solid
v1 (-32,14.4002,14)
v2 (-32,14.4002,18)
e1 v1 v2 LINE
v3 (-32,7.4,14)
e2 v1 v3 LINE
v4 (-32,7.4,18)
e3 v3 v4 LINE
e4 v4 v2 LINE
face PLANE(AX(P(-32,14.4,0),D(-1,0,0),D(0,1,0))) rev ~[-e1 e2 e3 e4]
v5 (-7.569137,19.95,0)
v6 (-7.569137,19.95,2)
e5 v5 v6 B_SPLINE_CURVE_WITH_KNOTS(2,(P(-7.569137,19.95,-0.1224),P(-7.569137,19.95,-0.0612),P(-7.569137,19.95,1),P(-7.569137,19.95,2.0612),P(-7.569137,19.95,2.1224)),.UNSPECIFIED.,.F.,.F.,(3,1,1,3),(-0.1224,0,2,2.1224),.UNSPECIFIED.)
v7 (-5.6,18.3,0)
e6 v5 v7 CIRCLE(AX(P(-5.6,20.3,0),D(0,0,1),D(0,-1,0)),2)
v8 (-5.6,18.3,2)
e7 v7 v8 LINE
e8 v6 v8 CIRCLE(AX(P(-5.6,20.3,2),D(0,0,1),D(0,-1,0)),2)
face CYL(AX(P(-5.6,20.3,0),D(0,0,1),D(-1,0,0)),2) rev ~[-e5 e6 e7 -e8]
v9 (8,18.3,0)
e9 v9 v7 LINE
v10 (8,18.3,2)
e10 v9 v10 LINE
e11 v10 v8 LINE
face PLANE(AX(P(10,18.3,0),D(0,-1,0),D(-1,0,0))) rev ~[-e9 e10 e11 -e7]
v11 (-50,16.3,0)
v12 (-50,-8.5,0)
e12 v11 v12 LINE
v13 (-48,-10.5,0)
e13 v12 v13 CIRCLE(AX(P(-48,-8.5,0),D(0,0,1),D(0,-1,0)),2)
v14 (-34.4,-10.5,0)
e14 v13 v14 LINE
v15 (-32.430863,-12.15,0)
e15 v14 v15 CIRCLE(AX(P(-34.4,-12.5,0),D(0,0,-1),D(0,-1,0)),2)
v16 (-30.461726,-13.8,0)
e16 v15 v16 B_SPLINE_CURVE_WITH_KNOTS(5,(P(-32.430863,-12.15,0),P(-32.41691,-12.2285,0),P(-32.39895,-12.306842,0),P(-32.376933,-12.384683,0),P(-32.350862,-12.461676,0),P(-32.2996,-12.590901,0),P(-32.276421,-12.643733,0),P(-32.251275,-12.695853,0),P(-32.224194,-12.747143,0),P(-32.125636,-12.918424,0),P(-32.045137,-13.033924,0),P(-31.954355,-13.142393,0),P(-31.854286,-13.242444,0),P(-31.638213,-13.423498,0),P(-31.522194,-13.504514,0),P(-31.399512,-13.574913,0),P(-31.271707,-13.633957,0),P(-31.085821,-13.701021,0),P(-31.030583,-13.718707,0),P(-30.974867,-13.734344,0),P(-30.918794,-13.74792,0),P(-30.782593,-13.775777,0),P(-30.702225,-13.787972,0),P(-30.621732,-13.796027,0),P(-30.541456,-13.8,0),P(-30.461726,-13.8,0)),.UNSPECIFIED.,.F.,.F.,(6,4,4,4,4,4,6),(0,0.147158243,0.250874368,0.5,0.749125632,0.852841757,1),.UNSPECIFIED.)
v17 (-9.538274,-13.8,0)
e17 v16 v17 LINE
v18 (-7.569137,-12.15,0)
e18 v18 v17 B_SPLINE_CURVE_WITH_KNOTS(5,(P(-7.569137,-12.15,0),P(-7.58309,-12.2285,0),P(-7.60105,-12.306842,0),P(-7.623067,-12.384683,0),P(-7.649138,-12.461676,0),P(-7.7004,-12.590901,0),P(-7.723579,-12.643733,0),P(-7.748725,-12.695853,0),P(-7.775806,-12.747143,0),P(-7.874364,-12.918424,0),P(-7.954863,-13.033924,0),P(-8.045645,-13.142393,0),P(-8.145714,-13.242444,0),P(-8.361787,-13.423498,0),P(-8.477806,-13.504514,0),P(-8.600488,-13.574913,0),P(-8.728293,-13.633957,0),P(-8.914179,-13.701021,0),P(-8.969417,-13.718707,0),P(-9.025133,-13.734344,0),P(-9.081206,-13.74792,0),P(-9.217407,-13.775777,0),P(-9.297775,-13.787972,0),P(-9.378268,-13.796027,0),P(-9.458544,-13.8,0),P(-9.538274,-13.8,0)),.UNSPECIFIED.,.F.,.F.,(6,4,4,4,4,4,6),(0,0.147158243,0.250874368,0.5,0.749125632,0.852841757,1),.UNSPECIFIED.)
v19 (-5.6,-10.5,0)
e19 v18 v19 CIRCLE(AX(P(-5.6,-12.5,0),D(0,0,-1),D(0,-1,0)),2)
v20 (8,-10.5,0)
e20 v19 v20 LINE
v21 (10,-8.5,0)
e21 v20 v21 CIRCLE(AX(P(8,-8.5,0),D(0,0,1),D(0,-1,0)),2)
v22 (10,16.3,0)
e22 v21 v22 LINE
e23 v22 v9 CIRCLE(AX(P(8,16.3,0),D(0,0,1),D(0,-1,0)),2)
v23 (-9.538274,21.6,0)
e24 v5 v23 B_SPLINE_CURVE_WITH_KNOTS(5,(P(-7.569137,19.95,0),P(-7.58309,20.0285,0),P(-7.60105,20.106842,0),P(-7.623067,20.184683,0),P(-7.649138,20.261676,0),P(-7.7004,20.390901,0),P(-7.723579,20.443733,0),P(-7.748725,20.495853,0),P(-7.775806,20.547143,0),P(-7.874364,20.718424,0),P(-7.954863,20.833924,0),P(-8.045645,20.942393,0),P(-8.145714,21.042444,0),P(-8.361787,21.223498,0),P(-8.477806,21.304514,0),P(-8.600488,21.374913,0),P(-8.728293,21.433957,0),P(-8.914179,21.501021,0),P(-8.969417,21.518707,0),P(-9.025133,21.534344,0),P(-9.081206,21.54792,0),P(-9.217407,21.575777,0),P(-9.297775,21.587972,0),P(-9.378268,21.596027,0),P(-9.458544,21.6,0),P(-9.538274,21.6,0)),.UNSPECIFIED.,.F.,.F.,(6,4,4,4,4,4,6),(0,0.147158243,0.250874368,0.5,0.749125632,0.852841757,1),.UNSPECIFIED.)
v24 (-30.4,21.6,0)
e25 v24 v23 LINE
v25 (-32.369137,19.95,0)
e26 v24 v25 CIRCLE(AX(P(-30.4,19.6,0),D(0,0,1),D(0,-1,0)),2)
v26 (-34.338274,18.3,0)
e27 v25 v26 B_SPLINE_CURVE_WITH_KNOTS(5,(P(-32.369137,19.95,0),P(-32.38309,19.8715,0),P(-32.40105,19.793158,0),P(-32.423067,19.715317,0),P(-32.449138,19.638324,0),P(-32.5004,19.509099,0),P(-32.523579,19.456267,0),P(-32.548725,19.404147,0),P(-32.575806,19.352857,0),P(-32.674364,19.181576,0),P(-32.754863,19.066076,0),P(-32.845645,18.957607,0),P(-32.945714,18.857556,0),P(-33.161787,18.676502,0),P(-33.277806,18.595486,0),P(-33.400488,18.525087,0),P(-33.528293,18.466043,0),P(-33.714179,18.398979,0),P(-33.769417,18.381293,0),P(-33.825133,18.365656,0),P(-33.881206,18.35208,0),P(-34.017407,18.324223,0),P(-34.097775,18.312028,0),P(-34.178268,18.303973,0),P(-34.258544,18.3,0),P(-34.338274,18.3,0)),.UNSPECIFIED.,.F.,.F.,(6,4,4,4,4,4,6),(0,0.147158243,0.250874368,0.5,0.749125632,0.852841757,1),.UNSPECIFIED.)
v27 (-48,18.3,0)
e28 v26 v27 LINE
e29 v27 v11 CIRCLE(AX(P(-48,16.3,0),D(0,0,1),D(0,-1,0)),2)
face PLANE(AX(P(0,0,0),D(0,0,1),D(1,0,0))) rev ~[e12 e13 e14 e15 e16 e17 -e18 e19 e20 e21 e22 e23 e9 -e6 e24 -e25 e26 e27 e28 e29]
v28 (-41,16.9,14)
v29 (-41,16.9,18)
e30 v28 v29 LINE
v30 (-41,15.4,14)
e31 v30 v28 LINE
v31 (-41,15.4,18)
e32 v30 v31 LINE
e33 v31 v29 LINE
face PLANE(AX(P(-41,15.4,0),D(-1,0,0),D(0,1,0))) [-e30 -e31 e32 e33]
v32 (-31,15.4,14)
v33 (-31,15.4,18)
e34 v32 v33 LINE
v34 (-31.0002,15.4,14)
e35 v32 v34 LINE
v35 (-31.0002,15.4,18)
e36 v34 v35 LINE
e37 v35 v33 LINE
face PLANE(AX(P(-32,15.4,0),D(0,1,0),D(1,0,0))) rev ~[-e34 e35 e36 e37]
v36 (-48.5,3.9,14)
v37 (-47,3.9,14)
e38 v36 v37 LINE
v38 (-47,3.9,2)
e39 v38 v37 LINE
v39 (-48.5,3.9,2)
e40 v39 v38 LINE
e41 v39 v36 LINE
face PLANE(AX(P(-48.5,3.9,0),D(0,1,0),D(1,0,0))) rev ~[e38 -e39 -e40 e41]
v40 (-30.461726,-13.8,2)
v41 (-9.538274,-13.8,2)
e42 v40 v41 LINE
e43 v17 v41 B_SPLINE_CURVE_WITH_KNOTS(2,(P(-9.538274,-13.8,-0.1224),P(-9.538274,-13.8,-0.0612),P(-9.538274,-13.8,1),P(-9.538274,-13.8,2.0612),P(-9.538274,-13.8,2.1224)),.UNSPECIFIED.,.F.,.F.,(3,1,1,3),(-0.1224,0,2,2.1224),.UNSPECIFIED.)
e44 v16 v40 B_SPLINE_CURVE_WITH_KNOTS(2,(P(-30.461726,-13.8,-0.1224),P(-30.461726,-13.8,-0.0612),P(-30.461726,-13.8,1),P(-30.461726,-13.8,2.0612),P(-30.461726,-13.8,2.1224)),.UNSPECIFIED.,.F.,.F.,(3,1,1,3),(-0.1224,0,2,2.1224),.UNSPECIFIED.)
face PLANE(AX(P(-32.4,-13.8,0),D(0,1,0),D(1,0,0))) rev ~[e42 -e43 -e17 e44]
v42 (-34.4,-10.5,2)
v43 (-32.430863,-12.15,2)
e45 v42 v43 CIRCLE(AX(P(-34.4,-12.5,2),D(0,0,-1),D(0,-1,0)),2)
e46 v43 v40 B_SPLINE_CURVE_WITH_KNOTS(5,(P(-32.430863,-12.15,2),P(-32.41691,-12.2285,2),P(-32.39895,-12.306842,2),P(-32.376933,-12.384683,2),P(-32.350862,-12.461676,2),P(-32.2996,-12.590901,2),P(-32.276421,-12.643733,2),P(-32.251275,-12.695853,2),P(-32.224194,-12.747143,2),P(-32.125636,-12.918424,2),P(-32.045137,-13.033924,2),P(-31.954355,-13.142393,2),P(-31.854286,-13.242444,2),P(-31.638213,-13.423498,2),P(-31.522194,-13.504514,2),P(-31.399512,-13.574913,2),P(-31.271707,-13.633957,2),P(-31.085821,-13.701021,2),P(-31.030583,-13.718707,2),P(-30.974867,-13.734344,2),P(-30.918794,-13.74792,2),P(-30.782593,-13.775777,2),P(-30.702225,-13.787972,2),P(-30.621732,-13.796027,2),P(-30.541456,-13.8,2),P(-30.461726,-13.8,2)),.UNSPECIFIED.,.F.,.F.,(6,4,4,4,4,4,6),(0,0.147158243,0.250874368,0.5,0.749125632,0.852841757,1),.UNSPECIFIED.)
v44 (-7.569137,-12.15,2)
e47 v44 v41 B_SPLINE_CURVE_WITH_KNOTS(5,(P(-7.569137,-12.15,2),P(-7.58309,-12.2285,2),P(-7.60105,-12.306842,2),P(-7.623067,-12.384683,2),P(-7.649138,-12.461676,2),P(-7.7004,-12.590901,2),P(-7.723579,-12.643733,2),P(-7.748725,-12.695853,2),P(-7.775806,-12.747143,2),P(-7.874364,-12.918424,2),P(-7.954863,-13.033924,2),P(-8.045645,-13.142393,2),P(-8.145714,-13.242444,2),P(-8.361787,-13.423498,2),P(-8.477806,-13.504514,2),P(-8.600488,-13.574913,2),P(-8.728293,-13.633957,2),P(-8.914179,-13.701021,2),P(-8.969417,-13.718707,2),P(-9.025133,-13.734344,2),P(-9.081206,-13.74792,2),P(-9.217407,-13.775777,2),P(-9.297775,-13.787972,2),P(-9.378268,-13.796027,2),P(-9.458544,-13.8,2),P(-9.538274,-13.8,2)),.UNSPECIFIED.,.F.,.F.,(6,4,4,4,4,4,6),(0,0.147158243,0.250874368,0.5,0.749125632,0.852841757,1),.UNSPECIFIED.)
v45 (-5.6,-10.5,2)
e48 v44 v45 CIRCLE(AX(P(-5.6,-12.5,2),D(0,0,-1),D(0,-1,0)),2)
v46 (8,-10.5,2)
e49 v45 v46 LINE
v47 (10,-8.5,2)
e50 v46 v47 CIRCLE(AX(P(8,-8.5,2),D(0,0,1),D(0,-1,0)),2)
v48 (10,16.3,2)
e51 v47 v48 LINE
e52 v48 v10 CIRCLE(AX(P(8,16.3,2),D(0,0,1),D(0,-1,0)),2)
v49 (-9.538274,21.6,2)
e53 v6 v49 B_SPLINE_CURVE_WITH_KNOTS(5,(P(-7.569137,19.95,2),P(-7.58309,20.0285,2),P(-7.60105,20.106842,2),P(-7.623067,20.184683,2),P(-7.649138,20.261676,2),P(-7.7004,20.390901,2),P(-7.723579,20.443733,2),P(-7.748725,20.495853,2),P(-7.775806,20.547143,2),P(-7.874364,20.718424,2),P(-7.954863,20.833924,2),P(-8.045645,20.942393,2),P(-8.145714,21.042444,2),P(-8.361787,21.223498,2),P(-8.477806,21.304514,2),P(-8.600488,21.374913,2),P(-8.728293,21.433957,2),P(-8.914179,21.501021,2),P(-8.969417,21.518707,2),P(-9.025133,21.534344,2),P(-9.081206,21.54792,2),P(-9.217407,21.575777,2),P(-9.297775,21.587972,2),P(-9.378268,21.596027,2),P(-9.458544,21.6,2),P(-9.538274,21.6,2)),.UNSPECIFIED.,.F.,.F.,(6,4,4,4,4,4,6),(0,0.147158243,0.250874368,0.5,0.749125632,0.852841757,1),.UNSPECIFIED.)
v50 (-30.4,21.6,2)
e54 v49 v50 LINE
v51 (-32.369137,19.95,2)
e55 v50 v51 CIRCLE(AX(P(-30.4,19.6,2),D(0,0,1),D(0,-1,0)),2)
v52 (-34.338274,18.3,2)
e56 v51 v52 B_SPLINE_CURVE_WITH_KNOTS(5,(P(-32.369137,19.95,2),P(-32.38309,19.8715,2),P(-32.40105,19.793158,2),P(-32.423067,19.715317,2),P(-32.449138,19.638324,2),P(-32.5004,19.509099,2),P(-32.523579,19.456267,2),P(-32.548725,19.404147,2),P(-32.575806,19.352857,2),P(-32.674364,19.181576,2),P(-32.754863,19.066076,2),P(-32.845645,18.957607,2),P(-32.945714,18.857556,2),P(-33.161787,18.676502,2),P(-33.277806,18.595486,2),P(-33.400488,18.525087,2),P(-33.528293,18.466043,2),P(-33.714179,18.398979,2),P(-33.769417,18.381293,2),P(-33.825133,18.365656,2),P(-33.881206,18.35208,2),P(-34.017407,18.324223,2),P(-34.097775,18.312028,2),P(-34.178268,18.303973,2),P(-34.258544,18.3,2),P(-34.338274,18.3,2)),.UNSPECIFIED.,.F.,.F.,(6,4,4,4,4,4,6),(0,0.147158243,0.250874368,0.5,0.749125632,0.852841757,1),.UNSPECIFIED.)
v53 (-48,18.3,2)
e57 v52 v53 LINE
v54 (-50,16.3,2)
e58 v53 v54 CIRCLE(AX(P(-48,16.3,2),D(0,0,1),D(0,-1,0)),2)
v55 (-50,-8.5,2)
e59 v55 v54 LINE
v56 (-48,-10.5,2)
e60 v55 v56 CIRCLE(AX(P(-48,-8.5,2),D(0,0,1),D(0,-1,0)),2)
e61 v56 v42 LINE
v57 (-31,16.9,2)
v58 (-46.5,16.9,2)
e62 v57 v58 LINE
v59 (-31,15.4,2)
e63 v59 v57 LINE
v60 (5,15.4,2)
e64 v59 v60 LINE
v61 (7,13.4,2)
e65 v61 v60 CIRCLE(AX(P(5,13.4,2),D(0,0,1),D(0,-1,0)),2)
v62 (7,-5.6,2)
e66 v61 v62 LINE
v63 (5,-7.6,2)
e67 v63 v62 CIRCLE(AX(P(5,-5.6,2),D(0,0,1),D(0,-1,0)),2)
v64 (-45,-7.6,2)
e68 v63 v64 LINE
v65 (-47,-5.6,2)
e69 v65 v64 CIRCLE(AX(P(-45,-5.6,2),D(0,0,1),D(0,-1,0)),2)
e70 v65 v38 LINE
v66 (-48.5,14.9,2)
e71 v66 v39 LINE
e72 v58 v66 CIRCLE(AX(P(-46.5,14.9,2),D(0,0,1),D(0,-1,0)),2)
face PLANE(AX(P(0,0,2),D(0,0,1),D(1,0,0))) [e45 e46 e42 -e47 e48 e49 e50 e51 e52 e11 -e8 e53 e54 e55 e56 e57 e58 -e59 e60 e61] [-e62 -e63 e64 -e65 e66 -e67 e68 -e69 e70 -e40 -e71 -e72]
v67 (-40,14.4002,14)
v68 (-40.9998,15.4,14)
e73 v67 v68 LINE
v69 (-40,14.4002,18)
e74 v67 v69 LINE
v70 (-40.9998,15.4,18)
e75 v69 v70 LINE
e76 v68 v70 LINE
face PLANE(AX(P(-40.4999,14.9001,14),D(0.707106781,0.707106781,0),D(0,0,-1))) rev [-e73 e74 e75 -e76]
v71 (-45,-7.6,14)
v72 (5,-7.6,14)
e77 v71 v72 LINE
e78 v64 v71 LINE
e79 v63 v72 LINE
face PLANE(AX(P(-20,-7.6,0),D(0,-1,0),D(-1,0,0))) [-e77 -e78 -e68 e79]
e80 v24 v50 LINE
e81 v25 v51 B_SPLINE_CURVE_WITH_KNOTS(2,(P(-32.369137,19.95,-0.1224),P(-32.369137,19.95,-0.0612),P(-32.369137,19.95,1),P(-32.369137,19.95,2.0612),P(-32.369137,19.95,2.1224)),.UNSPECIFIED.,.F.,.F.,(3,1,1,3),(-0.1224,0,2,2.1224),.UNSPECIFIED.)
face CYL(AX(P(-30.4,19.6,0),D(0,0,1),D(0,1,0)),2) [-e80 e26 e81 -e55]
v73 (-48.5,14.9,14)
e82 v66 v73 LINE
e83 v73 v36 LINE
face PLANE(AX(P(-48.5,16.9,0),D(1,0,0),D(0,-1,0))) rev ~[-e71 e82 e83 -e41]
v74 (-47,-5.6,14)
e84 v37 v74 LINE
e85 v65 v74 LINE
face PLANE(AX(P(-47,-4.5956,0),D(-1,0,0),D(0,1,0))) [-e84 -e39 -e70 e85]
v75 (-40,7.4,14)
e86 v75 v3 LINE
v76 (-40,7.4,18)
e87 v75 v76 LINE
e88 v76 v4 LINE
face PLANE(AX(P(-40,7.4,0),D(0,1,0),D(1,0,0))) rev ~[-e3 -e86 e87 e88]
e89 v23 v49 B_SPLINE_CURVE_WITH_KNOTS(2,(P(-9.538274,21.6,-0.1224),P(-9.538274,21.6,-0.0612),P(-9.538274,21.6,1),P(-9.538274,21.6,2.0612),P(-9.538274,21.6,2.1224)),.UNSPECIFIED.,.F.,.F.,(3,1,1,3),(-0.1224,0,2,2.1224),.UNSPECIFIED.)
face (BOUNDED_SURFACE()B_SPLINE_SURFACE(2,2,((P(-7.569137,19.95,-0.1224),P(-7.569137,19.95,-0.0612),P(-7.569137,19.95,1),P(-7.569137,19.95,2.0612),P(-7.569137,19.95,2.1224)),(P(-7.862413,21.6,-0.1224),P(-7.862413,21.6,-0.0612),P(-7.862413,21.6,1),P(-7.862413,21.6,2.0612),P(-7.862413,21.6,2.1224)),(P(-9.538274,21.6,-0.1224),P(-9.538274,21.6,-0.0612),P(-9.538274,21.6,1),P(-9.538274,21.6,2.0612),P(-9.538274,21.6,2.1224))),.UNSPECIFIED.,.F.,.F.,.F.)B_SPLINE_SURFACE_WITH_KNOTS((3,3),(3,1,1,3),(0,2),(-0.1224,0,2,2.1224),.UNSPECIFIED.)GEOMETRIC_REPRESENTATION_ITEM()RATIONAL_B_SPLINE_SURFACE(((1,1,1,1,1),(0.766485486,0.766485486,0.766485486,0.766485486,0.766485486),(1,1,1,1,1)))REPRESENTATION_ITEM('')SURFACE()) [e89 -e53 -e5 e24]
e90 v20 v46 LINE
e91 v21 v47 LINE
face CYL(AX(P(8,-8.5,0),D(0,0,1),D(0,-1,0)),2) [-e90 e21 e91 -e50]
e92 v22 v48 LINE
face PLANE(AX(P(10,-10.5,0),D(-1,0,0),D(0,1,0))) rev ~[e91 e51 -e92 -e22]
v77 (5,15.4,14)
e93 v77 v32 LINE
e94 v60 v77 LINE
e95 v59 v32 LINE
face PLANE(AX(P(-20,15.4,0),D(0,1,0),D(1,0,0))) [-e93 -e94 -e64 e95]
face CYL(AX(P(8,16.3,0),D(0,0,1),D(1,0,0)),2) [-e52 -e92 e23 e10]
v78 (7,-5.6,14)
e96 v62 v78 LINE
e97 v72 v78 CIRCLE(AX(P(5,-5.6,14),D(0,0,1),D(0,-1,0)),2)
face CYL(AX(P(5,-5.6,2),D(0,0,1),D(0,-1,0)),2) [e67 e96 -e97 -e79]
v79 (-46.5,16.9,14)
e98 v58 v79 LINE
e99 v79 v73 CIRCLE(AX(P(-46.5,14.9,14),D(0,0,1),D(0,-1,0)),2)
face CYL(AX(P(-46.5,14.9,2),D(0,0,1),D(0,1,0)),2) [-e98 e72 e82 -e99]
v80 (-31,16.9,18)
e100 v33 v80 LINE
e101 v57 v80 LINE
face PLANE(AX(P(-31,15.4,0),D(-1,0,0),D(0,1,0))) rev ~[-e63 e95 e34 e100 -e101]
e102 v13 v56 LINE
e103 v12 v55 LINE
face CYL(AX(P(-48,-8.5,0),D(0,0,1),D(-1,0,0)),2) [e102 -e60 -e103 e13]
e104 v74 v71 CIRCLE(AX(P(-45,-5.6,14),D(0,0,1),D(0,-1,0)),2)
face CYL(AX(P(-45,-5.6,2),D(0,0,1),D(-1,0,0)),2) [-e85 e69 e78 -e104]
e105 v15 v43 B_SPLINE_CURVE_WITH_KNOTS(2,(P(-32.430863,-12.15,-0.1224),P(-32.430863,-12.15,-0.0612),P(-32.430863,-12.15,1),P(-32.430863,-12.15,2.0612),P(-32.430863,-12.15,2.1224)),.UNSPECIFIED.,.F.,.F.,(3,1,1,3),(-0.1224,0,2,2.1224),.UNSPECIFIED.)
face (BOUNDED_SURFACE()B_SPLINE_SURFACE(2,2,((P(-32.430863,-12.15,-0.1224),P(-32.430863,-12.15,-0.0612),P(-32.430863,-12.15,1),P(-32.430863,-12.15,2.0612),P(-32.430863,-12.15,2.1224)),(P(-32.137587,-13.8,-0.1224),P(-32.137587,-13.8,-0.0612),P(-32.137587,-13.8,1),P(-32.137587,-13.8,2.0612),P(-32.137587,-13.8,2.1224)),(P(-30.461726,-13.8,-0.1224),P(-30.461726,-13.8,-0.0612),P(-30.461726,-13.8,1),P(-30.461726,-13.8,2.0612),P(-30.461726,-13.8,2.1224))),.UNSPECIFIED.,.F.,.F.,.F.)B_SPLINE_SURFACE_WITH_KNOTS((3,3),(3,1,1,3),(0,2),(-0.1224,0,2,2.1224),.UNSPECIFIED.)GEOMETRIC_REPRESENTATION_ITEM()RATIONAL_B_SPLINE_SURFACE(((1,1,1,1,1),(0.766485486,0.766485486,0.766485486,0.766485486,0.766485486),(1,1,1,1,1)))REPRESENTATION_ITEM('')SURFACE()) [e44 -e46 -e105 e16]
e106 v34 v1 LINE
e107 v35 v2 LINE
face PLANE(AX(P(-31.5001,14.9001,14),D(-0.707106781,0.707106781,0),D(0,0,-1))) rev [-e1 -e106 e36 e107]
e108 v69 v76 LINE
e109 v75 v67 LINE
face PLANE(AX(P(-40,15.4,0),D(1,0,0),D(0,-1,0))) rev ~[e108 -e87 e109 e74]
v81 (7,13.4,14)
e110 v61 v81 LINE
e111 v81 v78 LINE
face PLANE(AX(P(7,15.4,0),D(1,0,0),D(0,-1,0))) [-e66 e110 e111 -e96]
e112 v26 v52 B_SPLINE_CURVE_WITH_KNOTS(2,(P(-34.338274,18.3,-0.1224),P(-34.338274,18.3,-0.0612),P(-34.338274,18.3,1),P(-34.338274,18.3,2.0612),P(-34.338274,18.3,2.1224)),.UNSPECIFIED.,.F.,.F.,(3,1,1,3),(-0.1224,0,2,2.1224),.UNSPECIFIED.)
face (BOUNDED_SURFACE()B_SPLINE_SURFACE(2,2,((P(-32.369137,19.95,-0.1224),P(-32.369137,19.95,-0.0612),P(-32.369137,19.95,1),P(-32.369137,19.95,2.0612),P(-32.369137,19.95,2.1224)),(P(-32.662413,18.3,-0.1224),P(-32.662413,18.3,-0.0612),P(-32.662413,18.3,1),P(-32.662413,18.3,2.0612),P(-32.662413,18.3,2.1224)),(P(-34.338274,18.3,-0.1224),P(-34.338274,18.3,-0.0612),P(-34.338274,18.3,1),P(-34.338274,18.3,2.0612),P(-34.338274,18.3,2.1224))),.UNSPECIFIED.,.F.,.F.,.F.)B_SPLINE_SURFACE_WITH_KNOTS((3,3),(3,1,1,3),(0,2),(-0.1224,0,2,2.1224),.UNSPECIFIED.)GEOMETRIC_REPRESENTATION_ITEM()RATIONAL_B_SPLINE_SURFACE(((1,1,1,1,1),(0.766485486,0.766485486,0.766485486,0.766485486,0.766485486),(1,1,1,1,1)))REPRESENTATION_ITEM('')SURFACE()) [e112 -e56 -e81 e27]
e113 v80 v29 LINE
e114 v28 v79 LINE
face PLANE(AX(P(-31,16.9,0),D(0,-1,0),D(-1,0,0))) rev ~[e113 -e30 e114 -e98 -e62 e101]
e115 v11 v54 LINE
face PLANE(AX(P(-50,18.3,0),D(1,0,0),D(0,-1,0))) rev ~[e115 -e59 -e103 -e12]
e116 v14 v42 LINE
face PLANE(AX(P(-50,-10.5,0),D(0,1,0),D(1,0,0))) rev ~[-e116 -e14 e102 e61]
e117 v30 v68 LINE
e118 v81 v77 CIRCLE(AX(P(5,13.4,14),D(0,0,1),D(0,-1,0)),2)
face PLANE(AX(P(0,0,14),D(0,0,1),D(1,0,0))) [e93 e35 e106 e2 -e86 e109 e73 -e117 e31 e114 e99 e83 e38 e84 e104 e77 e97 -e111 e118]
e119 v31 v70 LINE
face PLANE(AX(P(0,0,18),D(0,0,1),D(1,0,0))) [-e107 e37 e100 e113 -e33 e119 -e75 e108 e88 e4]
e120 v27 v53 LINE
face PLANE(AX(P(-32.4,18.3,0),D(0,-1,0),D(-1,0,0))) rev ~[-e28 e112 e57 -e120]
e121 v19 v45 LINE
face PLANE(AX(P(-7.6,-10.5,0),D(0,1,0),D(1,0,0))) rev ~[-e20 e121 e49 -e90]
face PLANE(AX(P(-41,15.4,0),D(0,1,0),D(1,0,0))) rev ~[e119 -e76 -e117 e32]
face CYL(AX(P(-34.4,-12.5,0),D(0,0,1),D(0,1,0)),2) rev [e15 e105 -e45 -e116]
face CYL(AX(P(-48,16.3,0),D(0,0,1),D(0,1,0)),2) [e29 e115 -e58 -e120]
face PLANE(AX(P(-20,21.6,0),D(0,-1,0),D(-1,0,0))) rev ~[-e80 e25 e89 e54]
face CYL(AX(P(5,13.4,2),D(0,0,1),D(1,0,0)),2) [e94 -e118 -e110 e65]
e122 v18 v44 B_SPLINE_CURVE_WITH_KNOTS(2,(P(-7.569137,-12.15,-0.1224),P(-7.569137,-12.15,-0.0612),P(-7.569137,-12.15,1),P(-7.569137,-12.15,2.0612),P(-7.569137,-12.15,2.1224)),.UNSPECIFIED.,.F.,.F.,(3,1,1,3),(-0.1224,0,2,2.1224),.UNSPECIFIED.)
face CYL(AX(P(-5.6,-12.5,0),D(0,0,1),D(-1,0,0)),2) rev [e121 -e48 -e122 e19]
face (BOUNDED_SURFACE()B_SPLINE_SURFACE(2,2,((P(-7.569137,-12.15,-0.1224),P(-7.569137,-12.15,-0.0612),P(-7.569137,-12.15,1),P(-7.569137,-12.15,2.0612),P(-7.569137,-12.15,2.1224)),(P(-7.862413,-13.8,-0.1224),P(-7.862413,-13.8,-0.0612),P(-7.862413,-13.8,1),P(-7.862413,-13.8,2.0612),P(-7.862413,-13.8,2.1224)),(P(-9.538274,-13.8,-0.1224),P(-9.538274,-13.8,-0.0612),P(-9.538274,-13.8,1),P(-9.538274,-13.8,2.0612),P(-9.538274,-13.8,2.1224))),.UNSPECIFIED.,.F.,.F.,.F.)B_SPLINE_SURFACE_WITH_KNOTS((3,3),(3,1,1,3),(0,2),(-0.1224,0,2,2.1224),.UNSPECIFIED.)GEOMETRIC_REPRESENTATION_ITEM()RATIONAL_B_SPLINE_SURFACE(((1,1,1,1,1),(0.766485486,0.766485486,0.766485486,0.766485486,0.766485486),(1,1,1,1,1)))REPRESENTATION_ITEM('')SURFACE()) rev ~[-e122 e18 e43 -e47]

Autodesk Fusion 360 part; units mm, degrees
sketch "Sketch1" plane through (0, 0, 0) normal (0, 0, 1) x (1, 0, 0)
  line L0 (-50, 18.3) -> (-50, -10.5)
  line L1 (-50, -10.5) -> (-32.4, -10.5)
  line L2 (-32.4, -10.5) -> (-32.4, -13.8)
  line L3 (-32.4, -13.8) -> (-7.6, -13.8)
  line L4 (-7.6, -13.8) -> (-7.6, -10.5)
  line L5 (-7.6, -10.5) -> (10, -10.5)
  line L6 (10, -10.5) -> (10, 18.3)
  line L7 (10, 18.3) -> (-7.6, 18.3)
  line L8 (-7.6, 18.3) -> (-7.6, 21.6)
  line L9 (-7.6, 21.6) -> (-32.4, 21.6)
  line L10 (-32.4, 21.6) -> (-32.4, 18.3)
  line L11 (-32.4, 18.3) -> (-50, 18.3)
  line L12 (-47, 15.4) -> (7, 15.4)
  line L13 (7, 15.4) -> (7, -7.6)
  line L14 (7, -7.6) -> (-47, -7.6)
  line L15 (-47, -7.6) -> (-47, 15.4)
  line L16 (-50, 3.9) -> (-47, 3.9)
  line L17 (-20, 15.4) -> (-20, 21.6)
  line L18 (-40, 15.4) -> (-40, 7.4)
  line L19 (-40, 7.4) -> (-32, 7.4)
  line L20 (-32, 7.4) -> (-32, 15.4)
  line L21 (-45, -6.6) -> (5, -6.6)
  line L22 (5, -6.6) -> (5, -4.1)
  line L23 (5, -4.1) -> (-45, -4.1)
  line L24 (-45, -4.1) -> (-45, -6.6)
  line L25 (-20, -6.6) -> (-20, -7.6)
  line L26 (-45, 14.4) -> (5, 14.4)
  line L27 (5, 14.4) -> (5, 11.9)
  line L28 (-45, 11.9) -> (-45, 14.4)
  line L29 (5, 11.9) -> (-45, 11.9)
  line L30 (-45, 11.9) -> (-45, -4.1)
  line L31 (5, 11.9) -> (5, -4.1)
  line L32 (-31, 15.4) -> (-31, 16.9)
  line L33 (-31, 16.9) -> (-48.5, 16.9)
  line L34 (-48.5, 16.9) -> (-48.5, -4.5956)
  line L35 (-48.5, -4.5956) -> (-47, -4.5956)
  line L36 (-41, 15.4) -> (-41, 16.9)
  dimension "d1" = 60
  dimension "d2" = 24.8
  dimension "d3" = 28.8
  dimension "d4" = 35.4
  dimension "d8" = 23
  dimension "d9" = 54
  dimension "d10" = 8
  dimension "d11" = 8
  dimension "d12" = 7
  dimension "d13" = 1
  dimension "d14" = 2.5
  dimension "d15" = 50
  dimension "d153" = 1.5
  dimension "d154" = 1.5
  dimension "d155" = 1
  dimension "d156" = 1
extrude "Extrude2" add sketch "Sketch1" along normal blind 18 contours L12 L32 L33 L36 | L12 L18 L20 L26 | L18 L20 L26 L29 | L18 L19 L20 L29
extrude "Extrude3" add sketch "Sketch1" along normal blind 14 contours L12 L15 L16 L33 L34 L36 | L12 L14 L15 L18 L21 L24 L25 L26 L28 L30 | L12 L13 L14 L20 L21 L22 L25 L26 L27 L31 | L21 L22 L23 L24 | L18 L26 L28 L29 | L20 L26 L27 L29 | L18 L19 L20 L23 L29 L30 L31
extrude "Extrude5" add sketch "Sketch1" along normal blind 2 contours L0 L9 L10 L11 L12 L16 L17 L32 L33 L34 | L0 L1 L2 L3 L4 L5 L6 L7 L8 L9 L12 L13 L14 L15 L16 L17 L34 L35 | L12 L15 L16 L33 L34 L36 | L15 L16 L34 L35 | L12 L14 L15 L18 L21 L24 L25 L26 L28 L30 | L12 L32 L33 L36 | L12 L13 L14 L20 L21 L22 L25 L26 L27 L31 | L12 L18 L20 L26 | L18 L19 L20 L29 | L18 L19 L20 L23 L29 L30 L31
chamfer "Chamfer5" distance 1 angle 45 2 edges at (-40, 15.4, 16) (-32, 15.4, 16)
fillet "Fillet2" radius 2 12 edges at (-7.6, 18.3, 1) (-7.6, 21.6, 1) (-32.4, 21.6, 1) (-32.4, 18.3, 1) (-50, 18.3, 1) (-50, -10.5, 1) (-32.4, -10.5, 1) (-32.4, -13.8, 1) (-7.6, -10.5, 1) (-7.6, -13.8, 1) (10, -10.5, 1) (10, 18.3, 1)
fillet "Fillet26" radius 2 4 edges at (7, 15.4, 8) (7, -7.6, 8) (-47, -7.6, 8) (-48.5, 16.9, 8)
